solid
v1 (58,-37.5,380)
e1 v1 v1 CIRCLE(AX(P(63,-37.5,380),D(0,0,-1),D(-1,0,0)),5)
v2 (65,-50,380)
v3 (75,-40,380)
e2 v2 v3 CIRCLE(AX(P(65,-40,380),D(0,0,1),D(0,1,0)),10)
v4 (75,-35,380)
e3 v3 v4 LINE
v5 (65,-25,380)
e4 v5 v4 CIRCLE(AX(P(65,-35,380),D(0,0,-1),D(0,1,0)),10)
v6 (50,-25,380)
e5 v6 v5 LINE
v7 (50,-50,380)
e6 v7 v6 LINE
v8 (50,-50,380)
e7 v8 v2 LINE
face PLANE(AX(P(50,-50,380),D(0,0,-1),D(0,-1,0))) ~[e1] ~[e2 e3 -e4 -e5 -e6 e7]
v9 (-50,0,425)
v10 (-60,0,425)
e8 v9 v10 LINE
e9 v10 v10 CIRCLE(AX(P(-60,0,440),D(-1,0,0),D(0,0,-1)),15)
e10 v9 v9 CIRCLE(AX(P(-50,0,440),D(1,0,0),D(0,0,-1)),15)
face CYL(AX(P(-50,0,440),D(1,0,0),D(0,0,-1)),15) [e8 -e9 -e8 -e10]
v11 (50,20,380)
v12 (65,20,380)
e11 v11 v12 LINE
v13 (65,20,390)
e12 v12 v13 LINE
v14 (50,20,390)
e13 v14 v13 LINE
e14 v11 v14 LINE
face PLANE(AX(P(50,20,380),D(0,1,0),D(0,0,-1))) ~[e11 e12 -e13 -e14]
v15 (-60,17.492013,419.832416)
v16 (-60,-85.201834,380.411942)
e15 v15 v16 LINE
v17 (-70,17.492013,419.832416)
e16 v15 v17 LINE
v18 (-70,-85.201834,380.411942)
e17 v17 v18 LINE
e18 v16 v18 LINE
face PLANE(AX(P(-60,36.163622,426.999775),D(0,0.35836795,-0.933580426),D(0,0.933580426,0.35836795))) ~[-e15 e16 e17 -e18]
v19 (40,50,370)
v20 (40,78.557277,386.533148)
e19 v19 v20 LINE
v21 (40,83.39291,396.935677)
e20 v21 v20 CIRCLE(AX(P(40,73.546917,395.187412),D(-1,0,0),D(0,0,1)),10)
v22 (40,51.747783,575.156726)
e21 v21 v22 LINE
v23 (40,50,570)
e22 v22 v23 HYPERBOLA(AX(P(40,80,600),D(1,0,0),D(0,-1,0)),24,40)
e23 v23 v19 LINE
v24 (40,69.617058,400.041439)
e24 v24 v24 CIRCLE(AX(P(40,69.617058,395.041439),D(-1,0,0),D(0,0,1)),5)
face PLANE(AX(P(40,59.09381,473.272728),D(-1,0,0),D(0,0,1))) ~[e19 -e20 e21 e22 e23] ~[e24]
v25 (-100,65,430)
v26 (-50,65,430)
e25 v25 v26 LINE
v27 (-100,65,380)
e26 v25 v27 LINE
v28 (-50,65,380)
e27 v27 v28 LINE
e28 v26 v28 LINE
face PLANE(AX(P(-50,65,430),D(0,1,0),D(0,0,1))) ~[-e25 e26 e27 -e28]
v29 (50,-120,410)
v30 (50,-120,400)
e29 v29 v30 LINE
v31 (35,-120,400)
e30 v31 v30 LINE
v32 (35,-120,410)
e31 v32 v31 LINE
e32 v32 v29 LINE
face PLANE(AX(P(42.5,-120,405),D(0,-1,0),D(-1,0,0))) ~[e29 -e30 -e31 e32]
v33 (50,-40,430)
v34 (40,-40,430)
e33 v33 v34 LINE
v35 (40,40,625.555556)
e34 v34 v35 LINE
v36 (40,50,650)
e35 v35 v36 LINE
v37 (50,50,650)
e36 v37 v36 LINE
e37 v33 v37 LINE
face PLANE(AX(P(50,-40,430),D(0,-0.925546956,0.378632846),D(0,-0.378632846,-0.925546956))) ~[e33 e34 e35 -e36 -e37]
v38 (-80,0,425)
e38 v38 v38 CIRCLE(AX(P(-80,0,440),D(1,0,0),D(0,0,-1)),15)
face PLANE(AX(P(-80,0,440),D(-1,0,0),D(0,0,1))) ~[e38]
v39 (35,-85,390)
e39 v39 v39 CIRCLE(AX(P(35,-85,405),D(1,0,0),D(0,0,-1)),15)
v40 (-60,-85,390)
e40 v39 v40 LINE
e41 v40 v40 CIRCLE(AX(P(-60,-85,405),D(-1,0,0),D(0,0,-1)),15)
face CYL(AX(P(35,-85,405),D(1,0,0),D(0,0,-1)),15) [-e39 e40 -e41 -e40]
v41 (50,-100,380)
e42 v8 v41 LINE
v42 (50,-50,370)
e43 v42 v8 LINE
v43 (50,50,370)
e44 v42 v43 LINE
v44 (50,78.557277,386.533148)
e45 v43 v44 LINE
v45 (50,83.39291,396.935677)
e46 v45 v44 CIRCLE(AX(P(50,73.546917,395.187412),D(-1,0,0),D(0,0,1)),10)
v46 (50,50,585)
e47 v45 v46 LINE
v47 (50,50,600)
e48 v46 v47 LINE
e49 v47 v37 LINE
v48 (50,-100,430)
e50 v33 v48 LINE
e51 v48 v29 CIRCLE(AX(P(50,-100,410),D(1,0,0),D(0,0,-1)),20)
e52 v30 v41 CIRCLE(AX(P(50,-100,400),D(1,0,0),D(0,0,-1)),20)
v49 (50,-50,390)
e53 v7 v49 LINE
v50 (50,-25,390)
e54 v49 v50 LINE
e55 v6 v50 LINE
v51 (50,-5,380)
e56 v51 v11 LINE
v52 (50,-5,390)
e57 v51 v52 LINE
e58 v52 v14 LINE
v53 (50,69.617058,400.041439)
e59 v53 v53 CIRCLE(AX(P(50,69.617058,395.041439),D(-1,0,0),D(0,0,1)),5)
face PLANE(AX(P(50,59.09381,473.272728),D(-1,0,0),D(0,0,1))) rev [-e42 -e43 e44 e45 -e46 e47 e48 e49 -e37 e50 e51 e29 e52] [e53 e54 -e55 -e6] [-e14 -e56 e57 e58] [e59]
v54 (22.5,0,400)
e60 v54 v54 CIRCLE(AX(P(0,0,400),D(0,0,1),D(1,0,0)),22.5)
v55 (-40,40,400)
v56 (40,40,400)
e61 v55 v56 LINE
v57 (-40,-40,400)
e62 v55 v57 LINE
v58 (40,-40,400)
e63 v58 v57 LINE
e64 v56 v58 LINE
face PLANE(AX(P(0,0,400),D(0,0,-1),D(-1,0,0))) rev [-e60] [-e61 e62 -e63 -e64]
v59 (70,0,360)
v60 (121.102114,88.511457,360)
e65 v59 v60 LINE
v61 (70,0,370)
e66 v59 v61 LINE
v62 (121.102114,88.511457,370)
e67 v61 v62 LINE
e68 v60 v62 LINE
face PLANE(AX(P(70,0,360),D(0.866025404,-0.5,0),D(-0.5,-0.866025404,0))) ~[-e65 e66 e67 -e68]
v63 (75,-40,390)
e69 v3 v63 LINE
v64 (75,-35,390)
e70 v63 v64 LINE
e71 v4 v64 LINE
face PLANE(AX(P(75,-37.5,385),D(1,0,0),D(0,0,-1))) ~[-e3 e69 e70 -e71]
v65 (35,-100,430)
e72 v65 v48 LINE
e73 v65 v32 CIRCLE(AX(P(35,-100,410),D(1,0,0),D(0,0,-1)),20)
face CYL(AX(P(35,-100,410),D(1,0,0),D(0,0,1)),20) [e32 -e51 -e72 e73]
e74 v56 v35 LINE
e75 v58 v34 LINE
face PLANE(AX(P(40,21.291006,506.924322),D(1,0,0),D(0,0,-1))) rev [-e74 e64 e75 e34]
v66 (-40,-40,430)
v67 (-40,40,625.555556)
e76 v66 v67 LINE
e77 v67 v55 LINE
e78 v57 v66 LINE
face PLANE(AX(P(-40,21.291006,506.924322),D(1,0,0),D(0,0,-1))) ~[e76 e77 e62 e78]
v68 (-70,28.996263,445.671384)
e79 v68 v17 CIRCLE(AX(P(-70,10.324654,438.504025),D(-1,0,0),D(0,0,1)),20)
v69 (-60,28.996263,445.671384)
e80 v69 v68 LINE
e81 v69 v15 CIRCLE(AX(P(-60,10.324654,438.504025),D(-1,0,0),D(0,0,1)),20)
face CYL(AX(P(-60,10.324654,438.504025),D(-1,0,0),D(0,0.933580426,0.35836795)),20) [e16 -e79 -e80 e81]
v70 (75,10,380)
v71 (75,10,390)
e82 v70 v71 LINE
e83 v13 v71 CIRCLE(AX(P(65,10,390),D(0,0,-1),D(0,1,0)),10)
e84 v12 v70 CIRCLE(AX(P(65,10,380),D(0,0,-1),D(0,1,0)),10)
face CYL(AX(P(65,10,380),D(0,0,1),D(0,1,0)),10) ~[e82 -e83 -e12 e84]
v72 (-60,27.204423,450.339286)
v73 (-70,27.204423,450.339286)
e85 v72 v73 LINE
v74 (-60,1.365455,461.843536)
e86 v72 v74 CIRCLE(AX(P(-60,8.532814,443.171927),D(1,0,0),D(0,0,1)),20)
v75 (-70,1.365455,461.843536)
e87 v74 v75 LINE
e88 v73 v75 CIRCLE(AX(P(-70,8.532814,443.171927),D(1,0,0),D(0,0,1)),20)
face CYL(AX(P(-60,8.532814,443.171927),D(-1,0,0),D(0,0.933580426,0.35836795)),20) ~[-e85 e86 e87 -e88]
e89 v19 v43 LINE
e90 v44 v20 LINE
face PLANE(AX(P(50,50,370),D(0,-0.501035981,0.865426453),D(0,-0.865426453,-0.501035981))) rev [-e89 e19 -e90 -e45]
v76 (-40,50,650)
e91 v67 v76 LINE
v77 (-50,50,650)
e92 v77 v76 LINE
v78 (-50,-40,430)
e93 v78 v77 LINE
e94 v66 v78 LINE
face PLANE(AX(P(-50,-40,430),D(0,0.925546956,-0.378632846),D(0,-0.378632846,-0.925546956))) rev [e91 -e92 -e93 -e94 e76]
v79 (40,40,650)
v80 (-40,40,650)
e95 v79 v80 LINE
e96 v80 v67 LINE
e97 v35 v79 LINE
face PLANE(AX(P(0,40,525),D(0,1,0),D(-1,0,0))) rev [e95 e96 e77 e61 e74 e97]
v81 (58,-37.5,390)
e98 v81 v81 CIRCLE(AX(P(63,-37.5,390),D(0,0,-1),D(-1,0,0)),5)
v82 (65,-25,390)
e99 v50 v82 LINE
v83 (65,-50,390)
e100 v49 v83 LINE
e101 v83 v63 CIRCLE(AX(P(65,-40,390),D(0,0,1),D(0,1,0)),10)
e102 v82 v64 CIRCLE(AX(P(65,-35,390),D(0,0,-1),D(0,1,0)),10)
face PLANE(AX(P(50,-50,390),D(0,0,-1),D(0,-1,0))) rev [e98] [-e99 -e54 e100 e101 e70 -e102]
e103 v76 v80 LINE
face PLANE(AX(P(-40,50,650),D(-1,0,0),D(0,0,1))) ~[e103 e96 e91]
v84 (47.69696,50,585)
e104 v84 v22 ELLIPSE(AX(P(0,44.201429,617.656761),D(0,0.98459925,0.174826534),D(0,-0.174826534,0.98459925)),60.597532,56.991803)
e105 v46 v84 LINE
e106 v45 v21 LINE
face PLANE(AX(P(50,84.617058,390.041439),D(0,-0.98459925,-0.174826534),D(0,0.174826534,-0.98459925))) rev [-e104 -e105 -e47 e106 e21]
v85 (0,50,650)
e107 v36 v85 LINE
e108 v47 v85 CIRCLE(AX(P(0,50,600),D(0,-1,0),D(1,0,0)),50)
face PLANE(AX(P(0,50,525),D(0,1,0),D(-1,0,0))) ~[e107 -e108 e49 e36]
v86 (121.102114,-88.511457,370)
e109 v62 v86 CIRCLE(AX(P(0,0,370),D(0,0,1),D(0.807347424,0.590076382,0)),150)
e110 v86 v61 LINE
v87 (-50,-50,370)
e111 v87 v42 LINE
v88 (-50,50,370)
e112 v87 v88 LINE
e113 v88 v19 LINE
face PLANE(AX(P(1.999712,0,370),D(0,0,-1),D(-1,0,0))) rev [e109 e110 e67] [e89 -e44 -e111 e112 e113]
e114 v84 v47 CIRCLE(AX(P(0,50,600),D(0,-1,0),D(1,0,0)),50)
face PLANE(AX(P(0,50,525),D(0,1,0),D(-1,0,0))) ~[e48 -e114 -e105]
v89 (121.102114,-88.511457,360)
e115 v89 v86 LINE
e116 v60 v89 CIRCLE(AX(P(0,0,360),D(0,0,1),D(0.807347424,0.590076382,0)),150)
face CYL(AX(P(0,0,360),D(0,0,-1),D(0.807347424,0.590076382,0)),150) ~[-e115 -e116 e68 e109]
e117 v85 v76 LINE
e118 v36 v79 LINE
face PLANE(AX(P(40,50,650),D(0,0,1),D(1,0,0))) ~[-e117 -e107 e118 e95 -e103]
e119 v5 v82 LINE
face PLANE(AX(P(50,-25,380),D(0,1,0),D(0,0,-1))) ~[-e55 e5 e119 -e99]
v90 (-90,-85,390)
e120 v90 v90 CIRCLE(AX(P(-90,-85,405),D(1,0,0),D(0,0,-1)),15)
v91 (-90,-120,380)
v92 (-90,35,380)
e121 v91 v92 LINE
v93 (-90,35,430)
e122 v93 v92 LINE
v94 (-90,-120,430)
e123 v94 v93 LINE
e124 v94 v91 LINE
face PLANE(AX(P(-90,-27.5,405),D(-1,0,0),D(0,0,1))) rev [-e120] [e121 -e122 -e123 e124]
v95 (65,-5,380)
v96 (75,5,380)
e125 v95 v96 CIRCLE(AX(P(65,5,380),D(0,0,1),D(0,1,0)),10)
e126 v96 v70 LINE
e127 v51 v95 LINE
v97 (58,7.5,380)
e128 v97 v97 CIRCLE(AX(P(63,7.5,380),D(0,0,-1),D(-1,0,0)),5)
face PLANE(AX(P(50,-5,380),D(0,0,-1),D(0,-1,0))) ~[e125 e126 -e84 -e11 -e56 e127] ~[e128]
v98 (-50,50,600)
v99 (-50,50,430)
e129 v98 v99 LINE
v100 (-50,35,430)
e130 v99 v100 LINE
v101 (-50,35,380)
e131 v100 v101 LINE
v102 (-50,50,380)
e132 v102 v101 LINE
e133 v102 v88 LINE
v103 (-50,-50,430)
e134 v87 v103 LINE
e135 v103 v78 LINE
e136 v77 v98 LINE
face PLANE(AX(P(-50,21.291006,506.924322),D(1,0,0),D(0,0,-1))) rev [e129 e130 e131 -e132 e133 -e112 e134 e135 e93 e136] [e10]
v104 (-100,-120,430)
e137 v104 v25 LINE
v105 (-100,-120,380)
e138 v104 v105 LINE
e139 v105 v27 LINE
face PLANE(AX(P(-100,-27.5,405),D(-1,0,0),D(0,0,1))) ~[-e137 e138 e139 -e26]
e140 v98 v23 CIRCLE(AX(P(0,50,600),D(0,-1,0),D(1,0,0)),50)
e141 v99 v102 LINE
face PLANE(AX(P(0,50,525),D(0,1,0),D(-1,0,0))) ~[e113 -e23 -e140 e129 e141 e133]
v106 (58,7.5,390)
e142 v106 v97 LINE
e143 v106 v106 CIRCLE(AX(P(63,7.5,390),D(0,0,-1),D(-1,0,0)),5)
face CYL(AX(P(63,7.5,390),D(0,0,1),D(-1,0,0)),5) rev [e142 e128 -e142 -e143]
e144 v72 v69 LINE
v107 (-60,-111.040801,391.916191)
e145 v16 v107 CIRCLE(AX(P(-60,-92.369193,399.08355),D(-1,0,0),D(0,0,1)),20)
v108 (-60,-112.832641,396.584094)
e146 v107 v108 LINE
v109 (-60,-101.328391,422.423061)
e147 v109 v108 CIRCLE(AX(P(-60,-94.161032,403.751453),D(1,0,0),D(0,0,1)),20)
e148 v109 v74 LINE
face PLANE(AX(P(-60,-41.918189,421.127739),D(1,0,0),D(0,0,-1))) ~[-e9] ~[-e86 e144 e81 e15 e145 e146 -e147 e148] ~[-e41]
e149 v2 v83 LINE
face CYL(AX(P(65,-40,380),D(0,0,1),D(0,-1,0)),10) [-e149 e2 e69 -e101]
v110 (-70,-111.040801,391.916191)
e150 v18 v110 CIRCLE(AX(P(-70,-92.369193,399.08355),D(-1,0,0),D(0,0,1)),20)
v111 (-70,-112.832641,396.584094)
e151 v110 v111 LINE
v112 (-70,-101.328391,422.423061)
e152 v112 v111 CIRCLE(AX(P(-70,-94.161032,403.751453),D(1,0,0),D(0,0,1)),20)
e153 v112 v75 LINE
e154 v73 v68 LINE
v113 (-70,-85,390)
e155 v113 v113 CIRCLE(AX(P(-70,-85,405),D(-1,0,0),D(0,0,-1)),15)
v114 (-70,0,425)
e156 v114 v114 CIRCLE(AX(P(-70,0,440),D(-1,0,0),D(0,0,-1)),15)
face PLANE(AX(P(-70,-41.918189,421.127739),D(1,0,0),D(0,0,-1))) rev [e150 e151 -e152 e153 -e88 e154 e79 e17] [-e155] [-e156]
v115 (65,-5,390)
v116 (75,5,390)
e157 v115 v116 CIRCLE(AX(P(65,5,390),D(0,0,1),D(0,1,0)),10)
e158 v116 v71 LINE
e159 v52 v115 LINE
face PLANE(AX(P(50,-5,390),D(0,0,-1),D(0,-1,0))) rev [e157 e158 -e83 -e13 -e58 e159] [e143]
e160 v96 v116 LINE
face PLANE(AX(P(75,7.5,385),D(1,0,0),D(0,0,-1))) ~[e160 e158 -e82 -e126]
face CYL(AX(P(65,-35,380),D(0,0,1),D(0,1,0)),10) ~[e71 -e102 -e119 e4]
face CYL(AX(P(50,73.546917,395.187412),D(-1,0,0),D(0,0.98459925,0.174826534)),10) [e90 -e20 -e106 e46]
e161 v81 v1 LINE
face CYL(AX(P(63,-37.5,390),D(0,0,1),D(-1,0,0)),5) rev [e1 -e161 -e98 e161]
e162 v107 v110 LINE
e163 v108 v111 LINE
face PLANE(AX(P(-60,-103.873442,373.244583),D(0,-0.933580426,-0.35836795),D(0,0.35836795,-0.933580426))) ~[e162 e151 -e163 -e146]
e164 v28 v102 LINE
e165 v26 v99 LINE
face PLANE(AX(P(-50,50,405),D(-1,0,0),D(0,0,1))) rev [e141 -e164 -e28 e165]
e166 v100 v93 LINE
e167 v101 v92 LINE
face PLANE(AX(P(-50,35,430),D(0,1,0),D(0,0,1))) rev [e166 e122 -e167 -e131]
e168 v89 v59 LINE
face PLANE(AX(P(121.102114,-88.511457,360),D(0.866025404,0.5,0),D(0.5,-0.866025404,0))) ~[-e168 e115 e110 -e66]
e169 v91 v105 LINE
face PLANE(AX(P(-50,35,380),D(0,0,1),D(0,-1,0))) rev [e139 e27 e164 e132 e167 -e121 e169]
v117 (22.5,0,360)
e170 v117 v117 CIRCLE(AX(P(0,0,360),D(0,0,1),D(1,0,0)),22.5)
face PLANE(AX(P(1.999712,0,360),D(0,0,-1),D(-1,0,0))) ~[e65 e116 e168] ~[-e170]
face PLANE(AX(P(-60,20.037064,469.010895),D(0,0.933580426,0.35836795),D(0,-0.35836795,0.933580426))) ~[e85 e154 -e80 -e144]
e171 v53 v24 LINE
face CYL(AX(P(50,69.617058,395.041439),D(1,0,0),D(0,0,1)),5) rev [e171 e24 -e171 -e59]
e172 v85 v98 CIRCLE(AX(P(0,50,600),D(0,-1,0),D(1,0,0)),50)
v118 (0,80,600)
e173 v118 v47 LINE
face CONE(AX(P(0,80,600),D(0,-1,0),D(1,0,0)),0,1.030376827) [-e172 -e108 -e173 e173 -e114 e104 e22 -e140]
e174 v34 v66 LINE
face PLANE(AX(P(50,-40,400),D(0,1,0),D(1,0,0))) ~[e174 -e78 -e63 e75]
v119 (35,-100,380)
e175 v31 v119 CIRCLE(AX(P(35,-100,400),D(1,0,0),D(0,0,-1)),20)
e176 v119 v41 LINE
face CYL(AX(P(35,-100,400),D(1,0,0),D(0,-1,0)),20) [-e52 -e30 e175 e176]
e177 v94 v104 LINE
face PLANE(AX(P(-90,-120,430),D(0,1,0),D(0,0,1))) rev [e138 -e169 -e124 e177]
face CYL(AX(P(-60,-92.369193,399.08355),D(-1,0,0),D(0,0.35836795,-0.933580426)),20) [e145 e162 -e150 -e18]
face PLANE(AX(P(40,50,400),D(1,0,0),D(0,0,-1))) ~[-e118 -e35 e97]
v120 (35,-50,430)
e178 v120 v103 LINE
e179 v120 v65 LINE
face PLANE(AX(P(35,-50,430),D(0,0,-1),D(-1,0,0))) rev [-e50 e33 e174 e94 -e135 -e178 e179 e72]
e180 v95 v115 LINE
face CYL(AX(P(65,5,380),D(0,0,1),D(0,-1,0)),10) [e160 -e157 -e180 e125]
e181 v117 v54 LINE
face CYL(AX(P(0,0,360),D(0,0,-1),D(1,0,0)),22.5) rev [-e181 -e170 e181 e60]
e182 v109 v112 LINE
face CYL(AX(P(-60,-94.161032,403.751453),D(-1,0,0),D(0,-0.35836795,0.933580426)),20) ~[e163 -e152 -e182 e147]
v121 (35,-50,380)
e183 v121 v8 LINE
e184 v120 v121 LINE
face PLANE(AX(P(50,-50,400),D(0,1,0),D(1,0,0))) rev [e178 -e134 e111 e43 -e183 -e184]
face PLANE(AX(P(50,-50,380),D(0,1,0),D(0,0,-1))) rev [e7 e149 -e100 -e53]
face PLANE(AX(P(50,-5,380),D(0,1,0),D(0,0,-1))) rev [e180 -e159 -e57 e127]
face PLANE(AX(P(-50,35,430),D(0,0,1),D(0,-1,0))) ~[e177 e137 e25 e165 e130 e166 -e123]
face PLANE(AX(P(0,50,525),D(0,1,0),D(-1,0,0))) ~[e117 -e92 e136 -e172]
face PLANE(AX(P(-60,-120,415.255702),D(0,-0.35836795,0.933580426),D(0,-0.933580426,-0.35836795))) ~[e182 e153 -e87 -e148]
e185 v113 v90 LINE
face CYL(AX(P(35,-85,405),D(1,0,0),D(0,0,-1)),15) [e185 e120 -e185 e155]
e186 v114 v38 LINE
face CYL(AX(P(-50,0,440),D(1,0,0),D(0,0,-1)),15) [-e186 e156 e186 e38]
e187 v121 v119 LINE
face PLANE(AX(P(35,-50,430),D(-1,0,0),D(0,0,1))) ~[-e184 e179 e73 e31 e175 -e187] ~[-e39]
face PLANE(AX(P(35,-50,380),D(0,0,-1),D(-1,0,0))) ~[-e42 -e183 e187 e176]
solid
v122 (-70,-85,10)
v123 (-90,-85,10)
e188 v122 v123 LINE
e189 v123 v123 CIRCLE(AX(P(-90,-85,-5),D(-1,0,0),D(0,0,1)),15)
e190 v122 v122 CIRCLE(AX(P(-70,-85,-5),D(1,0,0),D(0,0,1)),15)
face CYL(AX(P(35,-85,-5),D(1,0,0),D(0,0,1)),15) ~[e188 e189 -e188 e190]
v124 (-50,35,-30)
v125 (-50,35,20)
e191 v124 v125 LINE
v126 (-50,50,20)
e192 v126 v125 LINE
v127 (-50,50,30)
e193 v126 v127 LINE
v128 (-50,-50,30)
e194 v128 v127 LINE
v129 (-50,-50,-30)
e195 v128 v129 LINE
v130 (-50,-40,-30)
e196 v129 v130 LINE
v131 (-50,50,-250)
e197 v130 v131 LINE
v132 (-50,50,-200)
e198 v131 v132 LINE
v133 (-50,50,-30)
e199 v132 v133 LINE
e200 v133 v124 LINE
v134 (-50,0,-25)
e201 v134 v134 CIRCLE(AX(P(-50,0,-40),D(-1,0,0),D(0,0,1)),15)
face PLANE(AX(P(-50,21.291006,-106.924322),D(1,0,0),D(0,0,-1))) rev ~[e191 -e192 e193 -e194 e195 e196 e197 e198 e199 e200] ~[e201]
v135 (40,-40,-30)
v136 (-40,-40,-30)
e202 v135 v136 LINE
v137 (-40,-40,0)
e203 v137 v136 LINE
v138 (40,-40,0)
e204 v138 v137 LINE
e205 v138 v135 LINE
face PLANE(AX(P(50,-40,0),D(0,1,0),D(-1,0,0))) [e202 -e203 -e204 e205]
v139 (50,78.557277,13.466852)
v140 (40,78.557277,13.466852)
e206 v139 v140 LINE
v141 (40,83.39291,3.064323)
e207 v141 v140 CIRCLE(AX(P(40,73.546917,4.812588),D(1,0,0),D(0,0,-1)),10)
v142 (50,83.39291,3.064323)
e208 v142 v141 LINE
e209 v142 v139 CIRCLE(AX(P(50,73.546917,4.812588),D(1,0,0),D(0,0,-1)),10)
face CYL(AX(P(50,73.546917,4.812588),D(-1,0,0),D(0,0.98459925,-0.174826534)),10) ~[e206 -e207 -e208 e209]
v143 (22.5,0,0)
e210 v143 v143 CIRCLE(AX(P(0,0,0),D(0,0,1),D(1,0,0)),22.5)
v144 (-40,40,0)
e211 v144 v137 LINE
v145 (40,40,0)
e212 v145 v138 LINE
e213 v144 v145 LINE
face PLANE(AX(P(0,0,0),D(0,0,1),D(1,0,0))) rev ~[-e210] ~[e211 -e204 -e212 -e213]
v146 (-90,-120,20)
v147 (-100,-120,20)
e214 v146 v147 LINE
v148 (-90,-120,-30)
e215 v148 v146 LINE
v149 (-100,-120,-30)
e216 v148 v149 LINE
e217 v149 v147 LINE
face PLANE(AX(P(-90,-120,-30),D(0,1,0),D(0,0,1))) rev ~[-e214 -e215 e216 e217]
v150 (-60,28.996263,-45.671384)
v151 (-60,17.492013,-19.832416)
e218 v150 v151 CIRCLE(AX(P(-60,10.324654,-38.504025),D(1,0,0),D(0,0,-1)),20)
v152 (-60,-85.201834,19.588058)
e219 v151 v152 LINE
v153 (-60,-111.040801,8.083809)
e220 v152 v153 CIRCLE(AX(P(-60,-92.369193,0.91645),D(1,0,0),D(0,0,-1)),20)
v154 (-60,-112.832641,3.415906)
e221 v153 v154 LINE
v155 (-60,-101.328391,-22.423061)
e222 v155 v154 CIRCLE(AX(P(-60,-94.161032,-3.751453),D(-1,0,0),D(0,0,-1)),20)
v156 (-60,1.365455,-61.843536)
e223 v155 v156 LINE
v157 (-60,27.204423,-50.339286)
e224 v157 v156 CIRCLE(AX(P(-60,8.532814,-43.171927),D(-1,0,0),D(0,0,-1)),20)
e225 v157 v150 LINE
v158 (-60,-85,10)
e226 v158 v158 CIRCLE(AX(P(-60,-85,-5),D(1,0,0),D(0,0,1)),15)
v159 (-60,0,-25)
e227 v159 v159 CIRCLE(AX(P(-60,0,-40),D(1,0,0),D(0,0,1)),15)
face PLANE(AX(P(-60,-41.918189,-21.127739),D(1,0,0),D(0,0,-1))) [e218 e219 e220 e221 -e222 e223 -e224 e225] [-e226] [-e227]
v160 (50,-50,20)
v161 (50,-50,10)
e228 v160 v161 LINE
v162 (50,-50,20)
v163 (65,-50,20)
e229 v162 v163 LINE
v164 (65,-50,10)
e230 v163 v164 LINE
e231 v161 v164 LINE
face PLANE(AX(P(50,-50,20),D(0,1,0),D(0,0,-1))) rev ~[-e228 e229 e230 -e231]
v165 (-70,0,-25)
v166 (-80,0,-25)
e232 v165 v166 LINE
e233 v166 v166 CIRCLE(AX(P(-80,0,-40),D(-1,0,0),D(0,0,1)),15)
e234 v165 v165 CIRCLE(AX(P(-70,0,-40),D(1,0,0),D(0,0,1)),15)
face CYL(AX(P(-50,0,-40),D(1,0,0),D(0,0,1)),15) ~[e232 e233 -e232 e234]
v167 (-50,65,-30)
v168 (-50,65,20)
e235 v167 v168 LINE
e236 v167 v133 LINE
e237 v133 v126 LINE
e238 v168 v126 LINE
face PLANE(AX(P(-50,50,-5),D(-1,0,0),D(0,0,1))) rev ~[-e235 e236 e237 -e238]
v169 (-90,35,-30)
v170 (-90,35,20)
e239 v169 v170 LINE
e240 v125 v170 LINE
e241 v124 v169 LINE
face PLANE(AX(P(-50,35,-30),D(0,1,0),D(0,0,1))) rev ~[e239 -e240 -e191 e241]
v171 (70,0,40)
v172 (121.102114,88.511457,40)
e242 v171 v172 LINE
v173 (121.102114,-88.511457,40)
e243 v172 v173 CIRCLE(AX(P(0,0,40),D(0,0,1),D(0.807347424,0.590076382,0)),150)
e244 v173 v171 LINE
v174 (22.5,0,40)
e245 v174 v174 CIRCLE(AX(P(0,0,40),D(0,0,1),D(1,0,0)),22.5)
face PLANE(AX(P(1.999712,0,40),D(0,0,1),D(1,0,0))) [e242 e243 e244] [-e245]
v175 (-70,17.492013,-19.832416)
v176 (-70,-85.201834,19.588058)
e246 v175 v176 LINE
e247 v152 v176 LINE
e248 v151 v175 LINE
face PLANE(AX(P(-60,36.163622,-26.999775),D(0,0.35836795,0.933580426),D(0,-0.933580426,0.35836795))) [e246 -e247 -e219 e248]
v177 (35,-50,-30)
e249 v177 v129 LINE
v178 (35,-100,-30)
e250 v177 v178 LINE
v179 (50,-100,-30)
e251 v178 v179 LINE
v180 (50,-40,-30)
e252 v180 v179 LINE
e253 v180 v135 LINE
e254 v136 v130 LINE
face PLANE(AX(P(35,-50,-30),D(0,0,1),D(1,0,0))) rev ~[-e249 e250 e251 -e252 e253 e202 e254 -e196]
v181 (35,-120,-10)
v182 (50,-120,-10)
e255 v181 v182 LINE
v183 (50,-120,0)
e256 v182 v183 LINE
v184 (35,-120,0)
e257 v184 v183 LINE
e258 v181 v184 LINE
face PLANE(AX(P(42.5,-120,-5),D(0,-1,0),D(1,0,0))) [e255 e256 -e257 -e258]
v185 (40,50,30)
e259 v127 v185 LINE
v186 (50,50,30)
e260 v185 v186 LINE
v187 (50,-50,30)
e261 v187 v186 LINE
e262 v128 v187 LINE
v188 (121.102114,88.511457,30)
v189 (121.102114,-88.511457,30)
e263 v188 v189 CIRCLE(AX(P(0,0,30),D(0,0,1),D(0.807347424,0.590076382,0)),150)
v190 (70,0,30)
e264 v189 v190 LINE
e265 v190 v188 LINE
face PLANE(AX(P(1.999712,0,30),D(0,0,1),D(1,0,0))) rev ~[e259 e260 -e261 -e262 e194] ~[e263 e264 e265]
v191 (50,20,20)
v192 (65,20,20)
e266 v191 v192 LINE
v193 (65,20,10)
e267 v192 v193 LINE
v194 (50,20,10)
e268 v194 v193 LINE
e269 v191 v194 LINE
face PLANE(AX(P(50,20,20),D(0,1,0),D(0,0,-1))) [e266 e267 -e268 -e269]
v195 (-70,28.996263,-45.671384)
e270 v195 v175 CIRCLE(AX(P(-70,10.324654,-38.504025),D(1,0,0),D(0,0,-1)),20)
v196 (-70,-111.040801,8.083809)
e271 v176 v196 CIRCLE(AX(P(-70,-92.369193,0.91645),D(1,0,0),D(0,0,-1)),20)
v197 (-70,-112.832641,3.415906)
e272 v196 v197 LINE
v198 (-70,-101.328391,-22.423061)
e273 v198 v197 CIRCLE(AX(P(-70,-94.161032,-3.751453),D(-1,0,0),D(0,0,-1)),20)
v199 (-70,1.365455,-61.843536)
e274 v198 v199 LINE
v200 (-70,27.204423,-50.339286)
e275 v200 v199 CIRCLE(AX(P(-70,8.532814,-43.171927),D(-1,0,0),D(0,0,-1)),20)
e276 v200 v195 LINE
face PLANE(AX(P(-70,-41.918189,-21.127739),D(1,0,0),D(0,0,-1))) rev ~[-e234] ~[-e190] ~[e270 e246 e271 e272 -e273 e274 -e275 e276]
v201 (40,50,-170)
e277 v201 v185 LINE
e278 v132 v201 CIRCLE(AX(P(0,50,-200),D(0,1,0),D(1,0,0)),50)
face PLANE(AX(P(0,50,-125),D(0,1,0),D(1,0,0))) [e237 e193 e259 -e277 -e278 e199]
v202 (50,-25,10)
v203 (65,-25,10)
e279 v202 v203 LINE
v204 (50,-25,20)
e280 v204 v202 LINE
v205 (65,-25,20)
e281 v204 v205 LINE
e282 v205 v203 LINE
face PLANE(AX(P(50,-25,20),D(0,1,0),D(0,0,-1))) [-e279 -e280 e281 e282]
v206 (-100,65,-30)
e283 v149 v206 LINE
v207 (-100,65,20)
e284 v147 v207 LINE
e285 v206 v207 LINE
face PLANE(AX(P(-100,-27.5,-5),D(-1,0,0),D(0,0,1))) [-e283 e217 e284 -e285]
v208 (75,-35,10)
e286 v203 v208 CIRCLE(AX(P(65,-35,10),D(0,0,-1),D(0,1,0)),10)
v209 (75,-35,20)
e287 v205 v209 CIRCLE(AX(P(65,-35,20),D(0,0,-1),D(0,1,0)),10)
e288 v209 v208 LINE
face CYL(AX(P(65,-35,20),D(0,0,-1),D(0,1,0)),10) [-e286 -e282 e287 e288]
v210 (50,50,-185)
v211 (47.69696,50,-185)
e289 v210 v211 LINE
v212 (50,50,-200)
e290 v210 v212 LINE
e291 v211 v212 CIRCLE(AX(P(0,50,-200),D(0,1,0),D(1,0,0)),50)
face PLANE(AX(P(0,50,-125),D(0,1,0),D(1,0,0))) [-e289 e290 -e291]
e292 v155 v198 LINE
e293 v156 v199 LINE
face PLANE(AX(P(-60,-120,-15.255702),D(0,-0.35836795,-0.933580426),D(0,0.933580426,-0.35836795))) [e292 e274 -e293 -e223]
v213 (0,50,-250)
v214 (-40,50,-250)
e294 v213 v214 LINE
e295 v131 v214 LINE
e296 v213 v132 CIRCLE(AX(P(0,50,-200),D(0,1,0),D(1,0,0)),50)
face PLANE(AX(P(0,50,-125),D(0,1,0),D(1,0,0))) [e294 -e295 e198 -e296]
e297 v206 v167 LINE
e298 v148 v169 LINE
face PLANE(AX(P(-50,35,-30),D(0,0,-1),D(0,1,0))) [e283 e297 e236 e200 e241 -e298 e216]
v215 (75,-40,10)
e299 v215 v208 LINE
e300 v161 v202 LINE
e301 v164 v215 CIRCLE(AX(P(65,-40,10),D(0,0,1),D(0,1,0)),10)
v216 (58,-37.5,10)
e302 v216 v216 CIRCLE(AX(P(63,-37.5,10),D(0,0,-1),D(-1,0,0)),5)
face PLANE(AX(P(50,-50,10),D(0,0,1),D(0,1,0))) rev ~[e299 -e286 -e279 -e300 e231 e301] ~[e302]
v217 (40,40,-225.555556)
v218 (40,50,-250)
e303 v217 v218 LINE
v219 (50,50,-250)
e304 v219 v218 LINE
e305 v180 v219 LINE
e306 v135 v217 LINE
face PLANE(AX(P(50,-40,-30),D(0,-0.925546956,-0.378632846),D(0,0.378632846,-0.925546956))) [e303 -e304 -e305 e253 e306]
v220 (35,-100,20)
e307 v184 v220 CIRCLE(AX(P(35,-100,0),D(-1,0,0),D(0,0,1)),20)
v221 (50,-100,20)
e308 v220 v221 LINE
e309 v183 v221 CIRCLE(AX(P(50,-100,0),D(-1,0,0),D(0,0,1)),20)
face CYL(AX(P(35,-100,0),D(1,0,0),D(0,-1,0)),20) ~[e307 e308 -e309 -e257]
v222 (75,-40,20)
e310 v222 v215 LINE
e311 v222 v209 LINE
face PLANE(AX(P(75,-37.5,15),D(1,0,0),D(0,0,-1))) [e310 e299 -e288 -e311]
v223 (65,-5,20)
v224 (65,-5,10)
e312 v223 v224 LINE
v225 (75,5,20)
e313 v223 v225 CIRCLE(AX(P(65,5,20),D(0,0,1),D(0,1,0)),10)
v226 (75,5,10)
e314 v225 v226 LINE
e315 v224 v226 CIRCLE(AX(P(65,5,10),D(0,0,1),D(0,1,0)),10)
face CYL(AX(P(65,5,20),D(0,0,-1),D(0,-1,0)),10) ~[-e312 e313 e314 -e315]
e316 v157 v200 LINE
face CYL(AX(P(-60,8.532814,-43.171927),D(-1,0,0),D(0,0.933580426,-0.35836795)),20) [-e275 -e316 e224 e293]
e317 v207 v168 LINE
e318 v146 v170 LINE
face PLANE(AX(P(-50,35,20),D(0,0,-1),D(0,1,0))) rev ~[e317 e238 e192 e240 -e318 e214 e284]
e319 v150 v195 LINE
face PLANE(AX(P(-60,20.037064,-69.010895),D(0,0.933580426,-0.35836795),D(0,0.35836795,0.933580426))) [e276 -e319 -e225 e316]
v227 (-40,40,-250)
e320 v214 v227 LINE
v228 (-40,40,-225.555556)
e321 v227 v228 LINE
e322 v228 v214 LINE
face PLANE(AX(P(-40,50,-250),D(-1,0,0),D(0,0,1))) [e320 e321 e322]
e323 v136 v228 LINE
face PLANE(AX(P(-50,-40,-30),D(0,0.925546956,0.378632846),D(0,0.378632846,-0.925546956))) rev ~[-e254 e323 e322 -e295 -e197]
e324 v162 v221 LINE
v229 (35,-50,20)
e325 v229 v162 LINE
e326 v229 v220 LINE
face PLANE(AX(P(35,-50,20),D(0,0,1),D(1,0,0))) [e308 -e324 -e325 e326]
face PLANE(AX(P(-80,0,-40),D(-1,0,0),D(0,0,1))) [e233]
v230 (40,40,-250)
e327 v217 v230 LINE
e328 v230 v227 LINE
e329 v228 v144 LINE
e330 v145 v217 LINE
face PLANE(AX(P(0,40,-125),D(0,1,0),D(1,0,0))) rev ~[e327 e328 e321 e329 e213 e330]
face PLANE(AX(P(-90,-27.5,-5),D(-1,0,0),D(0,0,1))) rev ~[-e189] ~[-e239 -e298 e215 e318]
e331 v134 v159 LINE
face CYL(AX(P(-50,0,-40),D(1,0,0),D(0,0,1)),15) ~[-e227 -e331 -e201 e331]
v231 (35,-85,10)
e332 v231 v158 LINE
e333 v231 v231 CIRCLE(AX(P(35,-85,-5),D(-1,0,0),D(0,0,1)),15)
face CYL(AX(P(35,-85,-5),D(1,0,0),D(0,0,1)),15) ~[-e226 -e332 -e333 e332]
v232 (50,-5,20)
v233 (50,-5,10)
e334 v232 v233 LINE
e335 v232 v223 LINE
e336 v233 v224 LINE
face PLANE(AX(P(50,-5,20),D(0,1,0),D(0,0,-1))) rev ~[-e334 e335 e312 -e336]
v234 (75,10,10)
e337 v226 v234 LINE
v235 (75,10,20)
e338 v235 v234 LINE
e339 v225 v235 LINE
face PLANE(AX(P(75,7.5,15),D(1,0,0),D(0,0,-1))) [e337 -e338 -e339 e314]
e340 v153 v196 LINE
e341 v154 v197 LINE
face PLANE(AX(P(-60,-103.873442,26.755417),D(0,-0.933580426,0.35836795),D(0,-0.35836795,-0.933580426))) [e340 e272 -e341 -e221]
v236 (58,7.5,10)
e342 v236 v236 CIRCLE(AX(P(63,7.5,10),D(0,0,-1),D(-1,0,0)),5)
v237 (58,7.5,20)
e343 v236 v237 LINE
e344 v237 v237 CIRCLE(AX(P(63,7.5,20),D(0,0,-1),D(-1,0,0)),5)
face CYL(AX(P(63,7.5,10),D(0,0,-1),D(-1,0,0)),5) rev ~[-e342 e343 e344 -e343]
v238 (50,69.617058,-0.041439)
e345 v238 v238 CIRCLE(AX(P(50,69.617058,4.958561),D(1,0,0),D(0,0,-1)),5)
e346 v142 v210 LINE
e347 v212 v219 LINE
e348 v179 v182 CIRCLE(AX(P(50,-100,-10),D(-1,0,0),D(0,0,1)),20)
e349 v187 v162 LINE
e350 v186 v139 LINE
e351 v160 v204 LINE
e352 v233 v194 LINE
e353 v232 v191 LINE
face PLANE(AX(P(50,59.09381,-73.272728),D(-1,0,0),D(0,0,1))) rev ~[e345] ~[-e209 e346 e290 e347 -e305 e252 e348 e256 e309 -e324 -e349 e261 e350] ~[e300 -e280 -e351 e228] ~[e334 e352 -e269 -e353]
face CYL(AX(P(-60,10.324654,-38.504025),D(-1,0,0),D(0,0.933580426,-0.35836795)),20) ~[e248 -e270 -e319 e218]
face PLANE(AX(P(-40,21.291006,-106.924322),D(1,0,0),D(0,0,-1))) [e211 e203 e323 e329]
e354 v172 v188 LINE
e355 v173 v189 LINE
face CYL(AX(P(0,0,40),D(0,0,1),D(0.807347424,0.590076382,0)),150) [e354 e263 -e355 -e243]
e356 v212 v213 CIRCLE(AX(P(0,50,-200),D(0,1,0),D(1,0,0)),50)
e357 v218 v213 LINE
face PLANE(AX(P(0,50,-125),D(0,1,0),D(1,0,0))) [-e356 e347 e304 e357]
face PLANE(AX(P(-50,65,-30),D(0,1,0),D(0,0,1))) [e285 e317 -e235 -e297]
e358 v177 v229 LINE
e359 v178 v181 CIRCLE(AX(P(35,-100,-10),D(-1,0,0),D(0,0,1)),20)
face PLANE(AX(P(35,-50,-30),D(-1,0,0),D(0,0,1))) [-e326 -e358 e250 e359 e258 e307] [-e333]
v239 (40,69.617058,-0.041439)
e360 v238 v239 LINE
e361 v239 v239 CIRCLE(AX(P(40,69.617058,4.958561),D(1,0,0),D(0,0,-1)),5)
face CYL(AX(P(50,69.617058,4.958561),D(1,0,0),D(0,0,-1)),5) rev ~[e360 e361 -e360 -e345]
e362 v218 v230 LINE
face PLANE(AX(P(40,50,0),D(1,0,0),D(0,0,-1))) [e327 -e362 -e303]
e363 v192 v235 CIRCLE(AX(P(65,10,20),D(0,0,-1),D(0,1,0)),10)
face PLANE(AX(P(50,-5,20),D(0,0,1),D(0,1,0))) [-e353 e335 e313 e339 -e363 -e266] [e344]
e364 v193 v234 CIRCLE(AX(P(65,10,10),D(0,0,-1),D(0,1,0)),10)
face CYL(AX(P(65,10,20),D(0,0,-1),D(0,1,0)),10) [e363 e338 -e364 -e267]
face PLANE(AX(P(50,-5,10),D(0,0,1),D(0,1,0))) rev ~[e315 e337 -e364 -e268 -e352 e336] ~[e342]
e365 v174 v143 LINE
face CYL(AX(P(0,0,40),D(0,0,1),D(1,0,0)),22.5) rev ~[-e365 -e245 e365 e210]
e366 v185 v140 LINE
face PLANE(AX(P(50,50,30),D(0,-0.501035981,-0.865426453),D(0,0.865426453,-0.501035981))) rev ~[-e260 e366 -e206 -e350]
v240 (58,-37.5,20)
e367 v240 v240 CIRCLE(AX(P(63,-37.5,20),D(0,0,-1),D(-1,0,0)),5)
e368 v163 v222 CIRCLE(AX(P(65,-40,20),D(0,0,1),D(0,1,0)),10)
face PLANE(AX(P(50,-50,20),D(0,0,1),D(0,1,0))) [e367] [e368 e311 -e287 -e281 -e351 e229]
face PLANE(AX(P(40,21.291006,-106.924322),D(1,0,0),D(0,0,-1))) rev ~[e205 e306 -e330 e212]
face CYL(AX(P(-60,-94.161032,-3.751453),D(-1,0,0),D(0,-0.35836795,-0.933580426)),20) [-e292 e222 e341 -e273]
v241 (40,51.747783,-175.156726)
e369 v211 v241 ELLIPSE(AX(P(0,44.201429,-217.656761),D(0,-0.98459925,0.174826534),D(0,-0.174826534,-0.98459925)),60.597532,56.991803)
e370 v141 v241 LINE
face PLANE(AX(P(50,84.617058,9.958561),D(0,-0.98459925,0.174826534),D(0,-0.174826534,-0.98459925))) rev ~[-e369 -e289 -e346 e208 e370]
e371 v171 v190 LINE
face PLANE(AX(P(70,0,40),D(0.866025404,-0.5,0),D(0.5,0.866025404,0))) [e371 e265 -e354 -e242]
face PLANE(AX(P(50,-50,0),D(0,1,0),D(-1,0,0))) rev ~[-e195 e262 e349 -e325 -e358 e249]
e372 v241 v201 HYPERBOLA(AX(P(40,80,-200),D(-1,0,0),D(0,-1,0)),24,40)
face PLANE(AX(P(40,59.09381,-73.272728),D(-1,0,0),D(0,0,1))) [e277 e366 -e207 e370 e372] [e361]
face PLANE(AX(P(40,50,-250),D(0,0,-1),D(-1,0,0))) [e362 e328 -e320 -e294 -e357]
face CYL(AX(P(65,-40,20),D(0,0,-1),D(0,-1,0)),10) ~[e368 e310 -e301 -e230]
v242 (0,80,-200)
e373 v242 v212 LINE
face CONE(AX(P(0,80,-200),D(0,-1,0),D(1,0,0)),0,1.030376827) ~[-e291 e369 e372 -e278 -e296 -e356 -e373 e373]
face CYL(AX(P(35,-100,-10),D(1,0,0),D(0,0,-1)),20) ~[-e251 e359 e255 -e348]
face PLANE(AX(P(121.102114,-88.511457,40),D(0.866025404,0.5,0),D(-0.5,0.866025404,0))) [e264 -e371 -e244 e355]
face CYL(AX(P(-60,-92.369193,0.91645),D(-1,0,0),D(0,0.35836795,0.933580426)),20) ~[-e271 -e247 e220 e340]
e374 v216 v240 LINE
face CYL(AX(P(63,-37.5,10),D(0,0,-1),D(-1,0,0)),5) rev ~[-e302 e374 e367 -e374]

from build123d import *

# Parameters (mm, degrees)
SZKIC1_W                     = 100
SZKIC1_H                     = 100
DODANIE_WYCI_GNI_CIE1_DEPTH  = 40
SZKIC3_R                     = 22.5
WYTNIJ_WYCI_GNI_CIE1_DEPTH   = 41
SZKIC4_W                     = 100
SZKIC4_H                     = 10
DODANIE_WYCI_GNI_CIE2_DEPTH  = 30
DODANIE_WYCI_GNI_CIE3_DEPTH  = 10
DODANIE_WYCI_GNI_CIE4_DEPTH  = 10
DODANIE_WYCI_GNI_CIE5_DEPTH  = 10
SZKIC11_W                    = 15
SZKIC11_H                    = 50
DODANIE_WYCI_GNI_CIE6_DEPTH  = 70
SZKIC12_R                    = 15
DODANIE_WYCI_GNI_CIE7_DEPTH  = 125
SZKIC13_R                    = 15
DODANIE_WYCI_GNI_CIE8_DEPTH  = 30
DODANIE_WYCI_GNI_CIE9_DEPTH  = 10
ZAOKR_GLENIE1_R              = 20
SZKIC15_W                    = 50
SZKIC15_H                    = 185
DODANIE_WYCI_GNI_CIE10_DEPTH = 10
DODANIE_WYCI_GNI_CIE11_REACH = 52
SZKIC17_W                    = 50
SZKIC17_H                    = 30
SZKIC18_W                    = 100
SZKIC18_H                    = 100
DODANIE_WYCI_GNI_CIE12_DEPTH = 10
DODANIE_WYCI_GNI_CIE13_DEPTH = 10
WYTNIJ_WYCI_GNI_CIE2_REACH   = 202
SZKIC20_R                    = 5
SZKIC21_W                    = 10
SZKIC21_H                    = 25
DODANIE_WYCI_GNI_CIE14_DEPTH = 25
ZAOKR_GLENIE2_R              = 10
WYTNIJ_WYCI_GNI_CIE3_REACH   = 32
SZKIC22_R                    = 5


with BuildPart() as part:
    # Szkic1 → Dodanie-wyciągnięcie1 (new body)
    with BuildSketch(Plane.XY):
        Rectangle(SZKIC1_W, SZKIC1_H)
    extrude(amount=DODANIE_WYCI_GNI_CIE1_DEPTH)

    # Szkic3 → Wytnij-wyciągnięcie1 (cut, through all)
    with BuildSketch(Plane.XY.offset(40)):
        Circle(SZKIC3_R)
    extrude(amount=-WYTNIJ_WYCI_GNI_CIE1_DEPTH, mode=Mode.SUBTRACT)

    # Szkic4 → Dodanie-wyciągnięcie2 (add)
    with BuildSketch(Plane(origin=(0, 0, 0), x_dir=(-1, 0, 0), z_dir=(0, 0, -1))):
        with Locations((0, -45)):
            Rectangle(SZKIC4_W, SZKIC4_H)
    extrude(amount=DODANIE_WYCI_GNI_CIE2_DEPTH)

    # Szkic5 → Dodanie-wyciągnięcie3 (add)
    with BuildSketch(Plane.ZY.offset(50)):
        Polygon((-30, -40), (-250, 50), (0, 50), (0, -40), align=None)
    extrude(amount=-DODANIE_WYCI_GNI_CIE3_DEPTH)

    # Szkic6 → Dodanie-wyciągnięcie4 (add)
    with BuildSketch(Plane(origin=(50, 0, 0), x_dir=(0, 0, -1), z_dir=(1, 0, 0))):
        Polygon((30, -40), (250, 50), (0, 50), (0, -40), align=None)
    extrude(amount=-DODANIE_WYCI_GNI_CIE4_DEPTH)

    # Szkic7 → Dodanie-wyciągnięcie5 (add)
    with BuildSketch(Plane(origin=(0, 50, 0), x_dir=(1, 0, 0), z_dir=(0, 1, 0))):
        Polygon((40, 250), (-40, 250), (-40, 30), (-40, 0), (40, 0), align=None)
    extrude(amount=-DODANIE_WYCI_GNI_CIE5_DEPTH)

    # Szkic10 → Obrót1 (revolve)
    with BuildSketch(Plane(origin=(0, 0, -200), x_dir=(-1, 0, 0), z_dir=(0, 0, -1))):
        Polygon((0, 50), (0, 80), (-50, 50), align=None)
    revolve(axis=Axis((0, 50, -200), (0, 1, 0)))

    # Szkic11 → Dodanie-wyciągnięcie6 (add)
    with BuildSketch(Plane.XZ.offset(50)):
        with Locations((42.5, -5)):
            Rectangle(SZKIC11_W, SZKIC11_H)
    extrude(amount=DODANIE_WYCI_GNI_CIE6_DEPTH)

    # Szkic12 → Dodanie-wyciągnięcie7 (add)
    with BuildSketch(Plane.ZY.offset(-35)):
        with Locations((-5, -85)):
            Circle(SZKIC12_R)
    extrude(amount=DODANIE_WYCI_GNI_CIE7_DEPTH)

    # Szkic13 → Dodanie-wyciągnięcie8 (add)
    with BuildSketch(Plane.ZY.offset(50)):
        with Locations((-40, 0)):
            Circle(SZKIC13_R)
    extrude(amount=DODANIE_WYCI_GNI_CIE8_DEPTH)

    # Szkic14 → Dodanie-wyciągnięcie9 (add)
    with BuildSketch(Plane.ZY.offset(60)):
        Polygon((-69.010894517, 20.037063975), (-26.999775325, 36.163621704), (26.755417107, -103.87344227), (-15.255702085, -120), align=None)
    extrude(amount=DODANIE_WYCI_GNI_CIE9_DEPTH)

    # Zaokrąglenie1
    zaokr_glenie1_edges = [part.edges().sort_by_distance(p)[0] for p in [
        (-65, 20.037063975, -69.010894517),
        (-65, -120, -15.255702085),
        (-65, -103.87344227, 26.755417107),
        (-65, 36.163621704, -26.999775325),
        (42.5, -120, 20),
        (42.5, -120, -30),
    ]]
    fillet(zaokr_glenie1_edges, radius=ZAOKR_GLENIE1_R)

    # Szkic15 → Dodanie-wyciągnięcie10 (add)
    with BuildSketch(Plane.ZY.offset(90)):
        with Locations((-5, -27.5)):
            Rectangle(SZKIC15_W, SZKIC15_H)
    extrude(amount=DODANIE_WYCI_GNI_CIE10_DEPTH)

    # Szkic17 → Dodanie-wyciągnięcie11 (add, up to next)
    with BuildSketch(Plane.ZY.offset(50), mode=Mode.PRIVATE) as dodanie_wyci_gni_cie11_sk1:
        with Locations((-5, 50)):
            Rectangle(SZKIC17_W, SZKIC17_H)
    dodanie_wyci_gni_cie11_tool1 = extrude(dodanie_wyci_gni_cie11_sk1.sketch, amount=DODANIE_WYCI_GNI_CIE11_REACH, mode=Mode.PRIVATE) - part.part
    add(dodanie_wyci_gni_cie11_tool1.solids().sort_by_distance((-50, 50, -5))[0])

    # Szkic18 → Dodanie-wyciągnięcie12 (add)
    with BuildSketch(Plane.XY.offset(40)):
        with BuildLine():
            Line((70, 0), (121.10211367, 88.511457251))
            ThreePointArc((121.10211367, 88.511457251), (-150, 0), (121.10211367, -88.511457251))
            Line((121.10211367, -88.511457251), (70, 0))
        make_face()
        Rectangle(SZKIC18_W, SZKIC18_H, mode=Mode.SUBTRACT)
    extrude(amount=-DODANIE_WYCI_GNI_CIE12_DEPTH)

    # Szkic19 → Dodanie-wyciągnięcie13 (add)
    with BuildSketch(Plane(origin=(50, 0, 0), x_dir=(0, 0, -1), z_dir=(1, 0, 0))):
        Polygon((-30, 50), (-9.958560776, 84.617058134), (185, 50), align=None)
    extrude(amount=-DODANIE_WYCI_GNI_CIE13_DEPTH)

    # Szkic20 → Wytnij-wyciągnięcie2 (cut, up to next)
    with BuildSketch(Plane(origin=(50, 0, 0), x_dir=(0, 0, -1), z_dir=(1, 0, 0)), mode=Mode.PRIVATE) as wytnij_wyci_gni_cie2_sk1:
        with Locations((-4.958560776, 69.617058134)):
            Circle(SZKIC20_R)
    wytnij_wyci_gni_cie2_tool1 = extrude(wytnij_wyci_gni_cie2_sk1.sketch, amount=-WYTNIJ_WYCI_GNI_CIE2_REACH, mode=Mode.PRIVATE) & part.part
    add(wytnij_wyci_gni_cie2_tool1.solids().sort_by_distance((50, 69.617058, 4.958561))[0], mode=Mode.SUBTRACT)

    # Szkic21 → Dodanie-wyciągnięcie14 (add)
    with BuildSketch(Plane(origin=(50, 0, 0), x_dir=(0, 0, -1), z_dir=(1, 0, 0))):
        with Locations((-15, 7.5)):
            Rectangle(SZKIC21_W, SZKIC21_H)
        with Locations((-15, -37.5)):
            Rectangle(SZKIC21_W, SZKIC21_H)
    extrude(amount=DODANIE_WYCI_GNI_CIE14_DEPTH)

    # Zaokrąglenie2
    zaokr_glenie2_edges = [part.edges().sort_by_distance(p)[0] for p in [
        (45, 84.617058134, 9.958560776),
        (75, 20, 15),
        (75, -5, 15),
        (75, -25, 15),
        (75, -50, 15),
    ]]
    fillet(zaokr_glenie2_edges, radius=ZAOKR_GLENIE2_R)

    # Szkic22 → Wytnij-wyciągnięcie3 (cut, up to next)
    with BuildSketch(Plane(origin=(0, 0, 10), x_dir=(-1, 0, 0), z_dir=(0, 0, -1)), mode=Mode.PRIVATE) as wytnij_wyci_gni_cie3_sk1:
        with Locations((-63, 7.5)):
            Circle(SZKIC22_R)
    wytnij_wyci_gni_cie3_tool1 = extrude(wytnij_wyci_gni_cie3_sk1.sketch, amount=-WYTNIJ_WYCI_GNI_CIE3_REACH, mode=Mode.PRIVATE) & part.part
    add(wytnij_wyci_gni_cie3_tool1.solids().sort_by_distance((63, 7.5, 10))[0], mode=Mode.SUBTRACT)
    # Szkic22 → Wytnij-wyciągnięcie3 (cut, up to next)
    with BuildSketch(Plane(origin=(0, 0, 10), x_dir=(-1, 0, 0), z_dir=(0, 0, -1)), mode=Mode.PRIVATE) as wytnij_wyci_gni_cie3_sk2:
        with Locations((-63, -37.5)):
            Circle(SZKIC22_R)
    wytnij_wyci_gni_cie3_tool2 = extrude(wytnij_wyci_gni_cie3_sk2.sketch, amount=-WYTNIJ_WYCI_GNI_CIE3_REACH, mode=Mode.PRIVATE) & part.part
    add(wytnij_wyci_gni_cie3_tool2.solids().sort_by_distance((63, -37.5, 10))[0], mode=Mode.SUBTRACT)


with BuildPart() as body_2:
    # Lustro2: mirrored copy
    add(part.part.mirror(Plane.XY.offset(200)))


solid = Compound([part.part, body_2.part])
